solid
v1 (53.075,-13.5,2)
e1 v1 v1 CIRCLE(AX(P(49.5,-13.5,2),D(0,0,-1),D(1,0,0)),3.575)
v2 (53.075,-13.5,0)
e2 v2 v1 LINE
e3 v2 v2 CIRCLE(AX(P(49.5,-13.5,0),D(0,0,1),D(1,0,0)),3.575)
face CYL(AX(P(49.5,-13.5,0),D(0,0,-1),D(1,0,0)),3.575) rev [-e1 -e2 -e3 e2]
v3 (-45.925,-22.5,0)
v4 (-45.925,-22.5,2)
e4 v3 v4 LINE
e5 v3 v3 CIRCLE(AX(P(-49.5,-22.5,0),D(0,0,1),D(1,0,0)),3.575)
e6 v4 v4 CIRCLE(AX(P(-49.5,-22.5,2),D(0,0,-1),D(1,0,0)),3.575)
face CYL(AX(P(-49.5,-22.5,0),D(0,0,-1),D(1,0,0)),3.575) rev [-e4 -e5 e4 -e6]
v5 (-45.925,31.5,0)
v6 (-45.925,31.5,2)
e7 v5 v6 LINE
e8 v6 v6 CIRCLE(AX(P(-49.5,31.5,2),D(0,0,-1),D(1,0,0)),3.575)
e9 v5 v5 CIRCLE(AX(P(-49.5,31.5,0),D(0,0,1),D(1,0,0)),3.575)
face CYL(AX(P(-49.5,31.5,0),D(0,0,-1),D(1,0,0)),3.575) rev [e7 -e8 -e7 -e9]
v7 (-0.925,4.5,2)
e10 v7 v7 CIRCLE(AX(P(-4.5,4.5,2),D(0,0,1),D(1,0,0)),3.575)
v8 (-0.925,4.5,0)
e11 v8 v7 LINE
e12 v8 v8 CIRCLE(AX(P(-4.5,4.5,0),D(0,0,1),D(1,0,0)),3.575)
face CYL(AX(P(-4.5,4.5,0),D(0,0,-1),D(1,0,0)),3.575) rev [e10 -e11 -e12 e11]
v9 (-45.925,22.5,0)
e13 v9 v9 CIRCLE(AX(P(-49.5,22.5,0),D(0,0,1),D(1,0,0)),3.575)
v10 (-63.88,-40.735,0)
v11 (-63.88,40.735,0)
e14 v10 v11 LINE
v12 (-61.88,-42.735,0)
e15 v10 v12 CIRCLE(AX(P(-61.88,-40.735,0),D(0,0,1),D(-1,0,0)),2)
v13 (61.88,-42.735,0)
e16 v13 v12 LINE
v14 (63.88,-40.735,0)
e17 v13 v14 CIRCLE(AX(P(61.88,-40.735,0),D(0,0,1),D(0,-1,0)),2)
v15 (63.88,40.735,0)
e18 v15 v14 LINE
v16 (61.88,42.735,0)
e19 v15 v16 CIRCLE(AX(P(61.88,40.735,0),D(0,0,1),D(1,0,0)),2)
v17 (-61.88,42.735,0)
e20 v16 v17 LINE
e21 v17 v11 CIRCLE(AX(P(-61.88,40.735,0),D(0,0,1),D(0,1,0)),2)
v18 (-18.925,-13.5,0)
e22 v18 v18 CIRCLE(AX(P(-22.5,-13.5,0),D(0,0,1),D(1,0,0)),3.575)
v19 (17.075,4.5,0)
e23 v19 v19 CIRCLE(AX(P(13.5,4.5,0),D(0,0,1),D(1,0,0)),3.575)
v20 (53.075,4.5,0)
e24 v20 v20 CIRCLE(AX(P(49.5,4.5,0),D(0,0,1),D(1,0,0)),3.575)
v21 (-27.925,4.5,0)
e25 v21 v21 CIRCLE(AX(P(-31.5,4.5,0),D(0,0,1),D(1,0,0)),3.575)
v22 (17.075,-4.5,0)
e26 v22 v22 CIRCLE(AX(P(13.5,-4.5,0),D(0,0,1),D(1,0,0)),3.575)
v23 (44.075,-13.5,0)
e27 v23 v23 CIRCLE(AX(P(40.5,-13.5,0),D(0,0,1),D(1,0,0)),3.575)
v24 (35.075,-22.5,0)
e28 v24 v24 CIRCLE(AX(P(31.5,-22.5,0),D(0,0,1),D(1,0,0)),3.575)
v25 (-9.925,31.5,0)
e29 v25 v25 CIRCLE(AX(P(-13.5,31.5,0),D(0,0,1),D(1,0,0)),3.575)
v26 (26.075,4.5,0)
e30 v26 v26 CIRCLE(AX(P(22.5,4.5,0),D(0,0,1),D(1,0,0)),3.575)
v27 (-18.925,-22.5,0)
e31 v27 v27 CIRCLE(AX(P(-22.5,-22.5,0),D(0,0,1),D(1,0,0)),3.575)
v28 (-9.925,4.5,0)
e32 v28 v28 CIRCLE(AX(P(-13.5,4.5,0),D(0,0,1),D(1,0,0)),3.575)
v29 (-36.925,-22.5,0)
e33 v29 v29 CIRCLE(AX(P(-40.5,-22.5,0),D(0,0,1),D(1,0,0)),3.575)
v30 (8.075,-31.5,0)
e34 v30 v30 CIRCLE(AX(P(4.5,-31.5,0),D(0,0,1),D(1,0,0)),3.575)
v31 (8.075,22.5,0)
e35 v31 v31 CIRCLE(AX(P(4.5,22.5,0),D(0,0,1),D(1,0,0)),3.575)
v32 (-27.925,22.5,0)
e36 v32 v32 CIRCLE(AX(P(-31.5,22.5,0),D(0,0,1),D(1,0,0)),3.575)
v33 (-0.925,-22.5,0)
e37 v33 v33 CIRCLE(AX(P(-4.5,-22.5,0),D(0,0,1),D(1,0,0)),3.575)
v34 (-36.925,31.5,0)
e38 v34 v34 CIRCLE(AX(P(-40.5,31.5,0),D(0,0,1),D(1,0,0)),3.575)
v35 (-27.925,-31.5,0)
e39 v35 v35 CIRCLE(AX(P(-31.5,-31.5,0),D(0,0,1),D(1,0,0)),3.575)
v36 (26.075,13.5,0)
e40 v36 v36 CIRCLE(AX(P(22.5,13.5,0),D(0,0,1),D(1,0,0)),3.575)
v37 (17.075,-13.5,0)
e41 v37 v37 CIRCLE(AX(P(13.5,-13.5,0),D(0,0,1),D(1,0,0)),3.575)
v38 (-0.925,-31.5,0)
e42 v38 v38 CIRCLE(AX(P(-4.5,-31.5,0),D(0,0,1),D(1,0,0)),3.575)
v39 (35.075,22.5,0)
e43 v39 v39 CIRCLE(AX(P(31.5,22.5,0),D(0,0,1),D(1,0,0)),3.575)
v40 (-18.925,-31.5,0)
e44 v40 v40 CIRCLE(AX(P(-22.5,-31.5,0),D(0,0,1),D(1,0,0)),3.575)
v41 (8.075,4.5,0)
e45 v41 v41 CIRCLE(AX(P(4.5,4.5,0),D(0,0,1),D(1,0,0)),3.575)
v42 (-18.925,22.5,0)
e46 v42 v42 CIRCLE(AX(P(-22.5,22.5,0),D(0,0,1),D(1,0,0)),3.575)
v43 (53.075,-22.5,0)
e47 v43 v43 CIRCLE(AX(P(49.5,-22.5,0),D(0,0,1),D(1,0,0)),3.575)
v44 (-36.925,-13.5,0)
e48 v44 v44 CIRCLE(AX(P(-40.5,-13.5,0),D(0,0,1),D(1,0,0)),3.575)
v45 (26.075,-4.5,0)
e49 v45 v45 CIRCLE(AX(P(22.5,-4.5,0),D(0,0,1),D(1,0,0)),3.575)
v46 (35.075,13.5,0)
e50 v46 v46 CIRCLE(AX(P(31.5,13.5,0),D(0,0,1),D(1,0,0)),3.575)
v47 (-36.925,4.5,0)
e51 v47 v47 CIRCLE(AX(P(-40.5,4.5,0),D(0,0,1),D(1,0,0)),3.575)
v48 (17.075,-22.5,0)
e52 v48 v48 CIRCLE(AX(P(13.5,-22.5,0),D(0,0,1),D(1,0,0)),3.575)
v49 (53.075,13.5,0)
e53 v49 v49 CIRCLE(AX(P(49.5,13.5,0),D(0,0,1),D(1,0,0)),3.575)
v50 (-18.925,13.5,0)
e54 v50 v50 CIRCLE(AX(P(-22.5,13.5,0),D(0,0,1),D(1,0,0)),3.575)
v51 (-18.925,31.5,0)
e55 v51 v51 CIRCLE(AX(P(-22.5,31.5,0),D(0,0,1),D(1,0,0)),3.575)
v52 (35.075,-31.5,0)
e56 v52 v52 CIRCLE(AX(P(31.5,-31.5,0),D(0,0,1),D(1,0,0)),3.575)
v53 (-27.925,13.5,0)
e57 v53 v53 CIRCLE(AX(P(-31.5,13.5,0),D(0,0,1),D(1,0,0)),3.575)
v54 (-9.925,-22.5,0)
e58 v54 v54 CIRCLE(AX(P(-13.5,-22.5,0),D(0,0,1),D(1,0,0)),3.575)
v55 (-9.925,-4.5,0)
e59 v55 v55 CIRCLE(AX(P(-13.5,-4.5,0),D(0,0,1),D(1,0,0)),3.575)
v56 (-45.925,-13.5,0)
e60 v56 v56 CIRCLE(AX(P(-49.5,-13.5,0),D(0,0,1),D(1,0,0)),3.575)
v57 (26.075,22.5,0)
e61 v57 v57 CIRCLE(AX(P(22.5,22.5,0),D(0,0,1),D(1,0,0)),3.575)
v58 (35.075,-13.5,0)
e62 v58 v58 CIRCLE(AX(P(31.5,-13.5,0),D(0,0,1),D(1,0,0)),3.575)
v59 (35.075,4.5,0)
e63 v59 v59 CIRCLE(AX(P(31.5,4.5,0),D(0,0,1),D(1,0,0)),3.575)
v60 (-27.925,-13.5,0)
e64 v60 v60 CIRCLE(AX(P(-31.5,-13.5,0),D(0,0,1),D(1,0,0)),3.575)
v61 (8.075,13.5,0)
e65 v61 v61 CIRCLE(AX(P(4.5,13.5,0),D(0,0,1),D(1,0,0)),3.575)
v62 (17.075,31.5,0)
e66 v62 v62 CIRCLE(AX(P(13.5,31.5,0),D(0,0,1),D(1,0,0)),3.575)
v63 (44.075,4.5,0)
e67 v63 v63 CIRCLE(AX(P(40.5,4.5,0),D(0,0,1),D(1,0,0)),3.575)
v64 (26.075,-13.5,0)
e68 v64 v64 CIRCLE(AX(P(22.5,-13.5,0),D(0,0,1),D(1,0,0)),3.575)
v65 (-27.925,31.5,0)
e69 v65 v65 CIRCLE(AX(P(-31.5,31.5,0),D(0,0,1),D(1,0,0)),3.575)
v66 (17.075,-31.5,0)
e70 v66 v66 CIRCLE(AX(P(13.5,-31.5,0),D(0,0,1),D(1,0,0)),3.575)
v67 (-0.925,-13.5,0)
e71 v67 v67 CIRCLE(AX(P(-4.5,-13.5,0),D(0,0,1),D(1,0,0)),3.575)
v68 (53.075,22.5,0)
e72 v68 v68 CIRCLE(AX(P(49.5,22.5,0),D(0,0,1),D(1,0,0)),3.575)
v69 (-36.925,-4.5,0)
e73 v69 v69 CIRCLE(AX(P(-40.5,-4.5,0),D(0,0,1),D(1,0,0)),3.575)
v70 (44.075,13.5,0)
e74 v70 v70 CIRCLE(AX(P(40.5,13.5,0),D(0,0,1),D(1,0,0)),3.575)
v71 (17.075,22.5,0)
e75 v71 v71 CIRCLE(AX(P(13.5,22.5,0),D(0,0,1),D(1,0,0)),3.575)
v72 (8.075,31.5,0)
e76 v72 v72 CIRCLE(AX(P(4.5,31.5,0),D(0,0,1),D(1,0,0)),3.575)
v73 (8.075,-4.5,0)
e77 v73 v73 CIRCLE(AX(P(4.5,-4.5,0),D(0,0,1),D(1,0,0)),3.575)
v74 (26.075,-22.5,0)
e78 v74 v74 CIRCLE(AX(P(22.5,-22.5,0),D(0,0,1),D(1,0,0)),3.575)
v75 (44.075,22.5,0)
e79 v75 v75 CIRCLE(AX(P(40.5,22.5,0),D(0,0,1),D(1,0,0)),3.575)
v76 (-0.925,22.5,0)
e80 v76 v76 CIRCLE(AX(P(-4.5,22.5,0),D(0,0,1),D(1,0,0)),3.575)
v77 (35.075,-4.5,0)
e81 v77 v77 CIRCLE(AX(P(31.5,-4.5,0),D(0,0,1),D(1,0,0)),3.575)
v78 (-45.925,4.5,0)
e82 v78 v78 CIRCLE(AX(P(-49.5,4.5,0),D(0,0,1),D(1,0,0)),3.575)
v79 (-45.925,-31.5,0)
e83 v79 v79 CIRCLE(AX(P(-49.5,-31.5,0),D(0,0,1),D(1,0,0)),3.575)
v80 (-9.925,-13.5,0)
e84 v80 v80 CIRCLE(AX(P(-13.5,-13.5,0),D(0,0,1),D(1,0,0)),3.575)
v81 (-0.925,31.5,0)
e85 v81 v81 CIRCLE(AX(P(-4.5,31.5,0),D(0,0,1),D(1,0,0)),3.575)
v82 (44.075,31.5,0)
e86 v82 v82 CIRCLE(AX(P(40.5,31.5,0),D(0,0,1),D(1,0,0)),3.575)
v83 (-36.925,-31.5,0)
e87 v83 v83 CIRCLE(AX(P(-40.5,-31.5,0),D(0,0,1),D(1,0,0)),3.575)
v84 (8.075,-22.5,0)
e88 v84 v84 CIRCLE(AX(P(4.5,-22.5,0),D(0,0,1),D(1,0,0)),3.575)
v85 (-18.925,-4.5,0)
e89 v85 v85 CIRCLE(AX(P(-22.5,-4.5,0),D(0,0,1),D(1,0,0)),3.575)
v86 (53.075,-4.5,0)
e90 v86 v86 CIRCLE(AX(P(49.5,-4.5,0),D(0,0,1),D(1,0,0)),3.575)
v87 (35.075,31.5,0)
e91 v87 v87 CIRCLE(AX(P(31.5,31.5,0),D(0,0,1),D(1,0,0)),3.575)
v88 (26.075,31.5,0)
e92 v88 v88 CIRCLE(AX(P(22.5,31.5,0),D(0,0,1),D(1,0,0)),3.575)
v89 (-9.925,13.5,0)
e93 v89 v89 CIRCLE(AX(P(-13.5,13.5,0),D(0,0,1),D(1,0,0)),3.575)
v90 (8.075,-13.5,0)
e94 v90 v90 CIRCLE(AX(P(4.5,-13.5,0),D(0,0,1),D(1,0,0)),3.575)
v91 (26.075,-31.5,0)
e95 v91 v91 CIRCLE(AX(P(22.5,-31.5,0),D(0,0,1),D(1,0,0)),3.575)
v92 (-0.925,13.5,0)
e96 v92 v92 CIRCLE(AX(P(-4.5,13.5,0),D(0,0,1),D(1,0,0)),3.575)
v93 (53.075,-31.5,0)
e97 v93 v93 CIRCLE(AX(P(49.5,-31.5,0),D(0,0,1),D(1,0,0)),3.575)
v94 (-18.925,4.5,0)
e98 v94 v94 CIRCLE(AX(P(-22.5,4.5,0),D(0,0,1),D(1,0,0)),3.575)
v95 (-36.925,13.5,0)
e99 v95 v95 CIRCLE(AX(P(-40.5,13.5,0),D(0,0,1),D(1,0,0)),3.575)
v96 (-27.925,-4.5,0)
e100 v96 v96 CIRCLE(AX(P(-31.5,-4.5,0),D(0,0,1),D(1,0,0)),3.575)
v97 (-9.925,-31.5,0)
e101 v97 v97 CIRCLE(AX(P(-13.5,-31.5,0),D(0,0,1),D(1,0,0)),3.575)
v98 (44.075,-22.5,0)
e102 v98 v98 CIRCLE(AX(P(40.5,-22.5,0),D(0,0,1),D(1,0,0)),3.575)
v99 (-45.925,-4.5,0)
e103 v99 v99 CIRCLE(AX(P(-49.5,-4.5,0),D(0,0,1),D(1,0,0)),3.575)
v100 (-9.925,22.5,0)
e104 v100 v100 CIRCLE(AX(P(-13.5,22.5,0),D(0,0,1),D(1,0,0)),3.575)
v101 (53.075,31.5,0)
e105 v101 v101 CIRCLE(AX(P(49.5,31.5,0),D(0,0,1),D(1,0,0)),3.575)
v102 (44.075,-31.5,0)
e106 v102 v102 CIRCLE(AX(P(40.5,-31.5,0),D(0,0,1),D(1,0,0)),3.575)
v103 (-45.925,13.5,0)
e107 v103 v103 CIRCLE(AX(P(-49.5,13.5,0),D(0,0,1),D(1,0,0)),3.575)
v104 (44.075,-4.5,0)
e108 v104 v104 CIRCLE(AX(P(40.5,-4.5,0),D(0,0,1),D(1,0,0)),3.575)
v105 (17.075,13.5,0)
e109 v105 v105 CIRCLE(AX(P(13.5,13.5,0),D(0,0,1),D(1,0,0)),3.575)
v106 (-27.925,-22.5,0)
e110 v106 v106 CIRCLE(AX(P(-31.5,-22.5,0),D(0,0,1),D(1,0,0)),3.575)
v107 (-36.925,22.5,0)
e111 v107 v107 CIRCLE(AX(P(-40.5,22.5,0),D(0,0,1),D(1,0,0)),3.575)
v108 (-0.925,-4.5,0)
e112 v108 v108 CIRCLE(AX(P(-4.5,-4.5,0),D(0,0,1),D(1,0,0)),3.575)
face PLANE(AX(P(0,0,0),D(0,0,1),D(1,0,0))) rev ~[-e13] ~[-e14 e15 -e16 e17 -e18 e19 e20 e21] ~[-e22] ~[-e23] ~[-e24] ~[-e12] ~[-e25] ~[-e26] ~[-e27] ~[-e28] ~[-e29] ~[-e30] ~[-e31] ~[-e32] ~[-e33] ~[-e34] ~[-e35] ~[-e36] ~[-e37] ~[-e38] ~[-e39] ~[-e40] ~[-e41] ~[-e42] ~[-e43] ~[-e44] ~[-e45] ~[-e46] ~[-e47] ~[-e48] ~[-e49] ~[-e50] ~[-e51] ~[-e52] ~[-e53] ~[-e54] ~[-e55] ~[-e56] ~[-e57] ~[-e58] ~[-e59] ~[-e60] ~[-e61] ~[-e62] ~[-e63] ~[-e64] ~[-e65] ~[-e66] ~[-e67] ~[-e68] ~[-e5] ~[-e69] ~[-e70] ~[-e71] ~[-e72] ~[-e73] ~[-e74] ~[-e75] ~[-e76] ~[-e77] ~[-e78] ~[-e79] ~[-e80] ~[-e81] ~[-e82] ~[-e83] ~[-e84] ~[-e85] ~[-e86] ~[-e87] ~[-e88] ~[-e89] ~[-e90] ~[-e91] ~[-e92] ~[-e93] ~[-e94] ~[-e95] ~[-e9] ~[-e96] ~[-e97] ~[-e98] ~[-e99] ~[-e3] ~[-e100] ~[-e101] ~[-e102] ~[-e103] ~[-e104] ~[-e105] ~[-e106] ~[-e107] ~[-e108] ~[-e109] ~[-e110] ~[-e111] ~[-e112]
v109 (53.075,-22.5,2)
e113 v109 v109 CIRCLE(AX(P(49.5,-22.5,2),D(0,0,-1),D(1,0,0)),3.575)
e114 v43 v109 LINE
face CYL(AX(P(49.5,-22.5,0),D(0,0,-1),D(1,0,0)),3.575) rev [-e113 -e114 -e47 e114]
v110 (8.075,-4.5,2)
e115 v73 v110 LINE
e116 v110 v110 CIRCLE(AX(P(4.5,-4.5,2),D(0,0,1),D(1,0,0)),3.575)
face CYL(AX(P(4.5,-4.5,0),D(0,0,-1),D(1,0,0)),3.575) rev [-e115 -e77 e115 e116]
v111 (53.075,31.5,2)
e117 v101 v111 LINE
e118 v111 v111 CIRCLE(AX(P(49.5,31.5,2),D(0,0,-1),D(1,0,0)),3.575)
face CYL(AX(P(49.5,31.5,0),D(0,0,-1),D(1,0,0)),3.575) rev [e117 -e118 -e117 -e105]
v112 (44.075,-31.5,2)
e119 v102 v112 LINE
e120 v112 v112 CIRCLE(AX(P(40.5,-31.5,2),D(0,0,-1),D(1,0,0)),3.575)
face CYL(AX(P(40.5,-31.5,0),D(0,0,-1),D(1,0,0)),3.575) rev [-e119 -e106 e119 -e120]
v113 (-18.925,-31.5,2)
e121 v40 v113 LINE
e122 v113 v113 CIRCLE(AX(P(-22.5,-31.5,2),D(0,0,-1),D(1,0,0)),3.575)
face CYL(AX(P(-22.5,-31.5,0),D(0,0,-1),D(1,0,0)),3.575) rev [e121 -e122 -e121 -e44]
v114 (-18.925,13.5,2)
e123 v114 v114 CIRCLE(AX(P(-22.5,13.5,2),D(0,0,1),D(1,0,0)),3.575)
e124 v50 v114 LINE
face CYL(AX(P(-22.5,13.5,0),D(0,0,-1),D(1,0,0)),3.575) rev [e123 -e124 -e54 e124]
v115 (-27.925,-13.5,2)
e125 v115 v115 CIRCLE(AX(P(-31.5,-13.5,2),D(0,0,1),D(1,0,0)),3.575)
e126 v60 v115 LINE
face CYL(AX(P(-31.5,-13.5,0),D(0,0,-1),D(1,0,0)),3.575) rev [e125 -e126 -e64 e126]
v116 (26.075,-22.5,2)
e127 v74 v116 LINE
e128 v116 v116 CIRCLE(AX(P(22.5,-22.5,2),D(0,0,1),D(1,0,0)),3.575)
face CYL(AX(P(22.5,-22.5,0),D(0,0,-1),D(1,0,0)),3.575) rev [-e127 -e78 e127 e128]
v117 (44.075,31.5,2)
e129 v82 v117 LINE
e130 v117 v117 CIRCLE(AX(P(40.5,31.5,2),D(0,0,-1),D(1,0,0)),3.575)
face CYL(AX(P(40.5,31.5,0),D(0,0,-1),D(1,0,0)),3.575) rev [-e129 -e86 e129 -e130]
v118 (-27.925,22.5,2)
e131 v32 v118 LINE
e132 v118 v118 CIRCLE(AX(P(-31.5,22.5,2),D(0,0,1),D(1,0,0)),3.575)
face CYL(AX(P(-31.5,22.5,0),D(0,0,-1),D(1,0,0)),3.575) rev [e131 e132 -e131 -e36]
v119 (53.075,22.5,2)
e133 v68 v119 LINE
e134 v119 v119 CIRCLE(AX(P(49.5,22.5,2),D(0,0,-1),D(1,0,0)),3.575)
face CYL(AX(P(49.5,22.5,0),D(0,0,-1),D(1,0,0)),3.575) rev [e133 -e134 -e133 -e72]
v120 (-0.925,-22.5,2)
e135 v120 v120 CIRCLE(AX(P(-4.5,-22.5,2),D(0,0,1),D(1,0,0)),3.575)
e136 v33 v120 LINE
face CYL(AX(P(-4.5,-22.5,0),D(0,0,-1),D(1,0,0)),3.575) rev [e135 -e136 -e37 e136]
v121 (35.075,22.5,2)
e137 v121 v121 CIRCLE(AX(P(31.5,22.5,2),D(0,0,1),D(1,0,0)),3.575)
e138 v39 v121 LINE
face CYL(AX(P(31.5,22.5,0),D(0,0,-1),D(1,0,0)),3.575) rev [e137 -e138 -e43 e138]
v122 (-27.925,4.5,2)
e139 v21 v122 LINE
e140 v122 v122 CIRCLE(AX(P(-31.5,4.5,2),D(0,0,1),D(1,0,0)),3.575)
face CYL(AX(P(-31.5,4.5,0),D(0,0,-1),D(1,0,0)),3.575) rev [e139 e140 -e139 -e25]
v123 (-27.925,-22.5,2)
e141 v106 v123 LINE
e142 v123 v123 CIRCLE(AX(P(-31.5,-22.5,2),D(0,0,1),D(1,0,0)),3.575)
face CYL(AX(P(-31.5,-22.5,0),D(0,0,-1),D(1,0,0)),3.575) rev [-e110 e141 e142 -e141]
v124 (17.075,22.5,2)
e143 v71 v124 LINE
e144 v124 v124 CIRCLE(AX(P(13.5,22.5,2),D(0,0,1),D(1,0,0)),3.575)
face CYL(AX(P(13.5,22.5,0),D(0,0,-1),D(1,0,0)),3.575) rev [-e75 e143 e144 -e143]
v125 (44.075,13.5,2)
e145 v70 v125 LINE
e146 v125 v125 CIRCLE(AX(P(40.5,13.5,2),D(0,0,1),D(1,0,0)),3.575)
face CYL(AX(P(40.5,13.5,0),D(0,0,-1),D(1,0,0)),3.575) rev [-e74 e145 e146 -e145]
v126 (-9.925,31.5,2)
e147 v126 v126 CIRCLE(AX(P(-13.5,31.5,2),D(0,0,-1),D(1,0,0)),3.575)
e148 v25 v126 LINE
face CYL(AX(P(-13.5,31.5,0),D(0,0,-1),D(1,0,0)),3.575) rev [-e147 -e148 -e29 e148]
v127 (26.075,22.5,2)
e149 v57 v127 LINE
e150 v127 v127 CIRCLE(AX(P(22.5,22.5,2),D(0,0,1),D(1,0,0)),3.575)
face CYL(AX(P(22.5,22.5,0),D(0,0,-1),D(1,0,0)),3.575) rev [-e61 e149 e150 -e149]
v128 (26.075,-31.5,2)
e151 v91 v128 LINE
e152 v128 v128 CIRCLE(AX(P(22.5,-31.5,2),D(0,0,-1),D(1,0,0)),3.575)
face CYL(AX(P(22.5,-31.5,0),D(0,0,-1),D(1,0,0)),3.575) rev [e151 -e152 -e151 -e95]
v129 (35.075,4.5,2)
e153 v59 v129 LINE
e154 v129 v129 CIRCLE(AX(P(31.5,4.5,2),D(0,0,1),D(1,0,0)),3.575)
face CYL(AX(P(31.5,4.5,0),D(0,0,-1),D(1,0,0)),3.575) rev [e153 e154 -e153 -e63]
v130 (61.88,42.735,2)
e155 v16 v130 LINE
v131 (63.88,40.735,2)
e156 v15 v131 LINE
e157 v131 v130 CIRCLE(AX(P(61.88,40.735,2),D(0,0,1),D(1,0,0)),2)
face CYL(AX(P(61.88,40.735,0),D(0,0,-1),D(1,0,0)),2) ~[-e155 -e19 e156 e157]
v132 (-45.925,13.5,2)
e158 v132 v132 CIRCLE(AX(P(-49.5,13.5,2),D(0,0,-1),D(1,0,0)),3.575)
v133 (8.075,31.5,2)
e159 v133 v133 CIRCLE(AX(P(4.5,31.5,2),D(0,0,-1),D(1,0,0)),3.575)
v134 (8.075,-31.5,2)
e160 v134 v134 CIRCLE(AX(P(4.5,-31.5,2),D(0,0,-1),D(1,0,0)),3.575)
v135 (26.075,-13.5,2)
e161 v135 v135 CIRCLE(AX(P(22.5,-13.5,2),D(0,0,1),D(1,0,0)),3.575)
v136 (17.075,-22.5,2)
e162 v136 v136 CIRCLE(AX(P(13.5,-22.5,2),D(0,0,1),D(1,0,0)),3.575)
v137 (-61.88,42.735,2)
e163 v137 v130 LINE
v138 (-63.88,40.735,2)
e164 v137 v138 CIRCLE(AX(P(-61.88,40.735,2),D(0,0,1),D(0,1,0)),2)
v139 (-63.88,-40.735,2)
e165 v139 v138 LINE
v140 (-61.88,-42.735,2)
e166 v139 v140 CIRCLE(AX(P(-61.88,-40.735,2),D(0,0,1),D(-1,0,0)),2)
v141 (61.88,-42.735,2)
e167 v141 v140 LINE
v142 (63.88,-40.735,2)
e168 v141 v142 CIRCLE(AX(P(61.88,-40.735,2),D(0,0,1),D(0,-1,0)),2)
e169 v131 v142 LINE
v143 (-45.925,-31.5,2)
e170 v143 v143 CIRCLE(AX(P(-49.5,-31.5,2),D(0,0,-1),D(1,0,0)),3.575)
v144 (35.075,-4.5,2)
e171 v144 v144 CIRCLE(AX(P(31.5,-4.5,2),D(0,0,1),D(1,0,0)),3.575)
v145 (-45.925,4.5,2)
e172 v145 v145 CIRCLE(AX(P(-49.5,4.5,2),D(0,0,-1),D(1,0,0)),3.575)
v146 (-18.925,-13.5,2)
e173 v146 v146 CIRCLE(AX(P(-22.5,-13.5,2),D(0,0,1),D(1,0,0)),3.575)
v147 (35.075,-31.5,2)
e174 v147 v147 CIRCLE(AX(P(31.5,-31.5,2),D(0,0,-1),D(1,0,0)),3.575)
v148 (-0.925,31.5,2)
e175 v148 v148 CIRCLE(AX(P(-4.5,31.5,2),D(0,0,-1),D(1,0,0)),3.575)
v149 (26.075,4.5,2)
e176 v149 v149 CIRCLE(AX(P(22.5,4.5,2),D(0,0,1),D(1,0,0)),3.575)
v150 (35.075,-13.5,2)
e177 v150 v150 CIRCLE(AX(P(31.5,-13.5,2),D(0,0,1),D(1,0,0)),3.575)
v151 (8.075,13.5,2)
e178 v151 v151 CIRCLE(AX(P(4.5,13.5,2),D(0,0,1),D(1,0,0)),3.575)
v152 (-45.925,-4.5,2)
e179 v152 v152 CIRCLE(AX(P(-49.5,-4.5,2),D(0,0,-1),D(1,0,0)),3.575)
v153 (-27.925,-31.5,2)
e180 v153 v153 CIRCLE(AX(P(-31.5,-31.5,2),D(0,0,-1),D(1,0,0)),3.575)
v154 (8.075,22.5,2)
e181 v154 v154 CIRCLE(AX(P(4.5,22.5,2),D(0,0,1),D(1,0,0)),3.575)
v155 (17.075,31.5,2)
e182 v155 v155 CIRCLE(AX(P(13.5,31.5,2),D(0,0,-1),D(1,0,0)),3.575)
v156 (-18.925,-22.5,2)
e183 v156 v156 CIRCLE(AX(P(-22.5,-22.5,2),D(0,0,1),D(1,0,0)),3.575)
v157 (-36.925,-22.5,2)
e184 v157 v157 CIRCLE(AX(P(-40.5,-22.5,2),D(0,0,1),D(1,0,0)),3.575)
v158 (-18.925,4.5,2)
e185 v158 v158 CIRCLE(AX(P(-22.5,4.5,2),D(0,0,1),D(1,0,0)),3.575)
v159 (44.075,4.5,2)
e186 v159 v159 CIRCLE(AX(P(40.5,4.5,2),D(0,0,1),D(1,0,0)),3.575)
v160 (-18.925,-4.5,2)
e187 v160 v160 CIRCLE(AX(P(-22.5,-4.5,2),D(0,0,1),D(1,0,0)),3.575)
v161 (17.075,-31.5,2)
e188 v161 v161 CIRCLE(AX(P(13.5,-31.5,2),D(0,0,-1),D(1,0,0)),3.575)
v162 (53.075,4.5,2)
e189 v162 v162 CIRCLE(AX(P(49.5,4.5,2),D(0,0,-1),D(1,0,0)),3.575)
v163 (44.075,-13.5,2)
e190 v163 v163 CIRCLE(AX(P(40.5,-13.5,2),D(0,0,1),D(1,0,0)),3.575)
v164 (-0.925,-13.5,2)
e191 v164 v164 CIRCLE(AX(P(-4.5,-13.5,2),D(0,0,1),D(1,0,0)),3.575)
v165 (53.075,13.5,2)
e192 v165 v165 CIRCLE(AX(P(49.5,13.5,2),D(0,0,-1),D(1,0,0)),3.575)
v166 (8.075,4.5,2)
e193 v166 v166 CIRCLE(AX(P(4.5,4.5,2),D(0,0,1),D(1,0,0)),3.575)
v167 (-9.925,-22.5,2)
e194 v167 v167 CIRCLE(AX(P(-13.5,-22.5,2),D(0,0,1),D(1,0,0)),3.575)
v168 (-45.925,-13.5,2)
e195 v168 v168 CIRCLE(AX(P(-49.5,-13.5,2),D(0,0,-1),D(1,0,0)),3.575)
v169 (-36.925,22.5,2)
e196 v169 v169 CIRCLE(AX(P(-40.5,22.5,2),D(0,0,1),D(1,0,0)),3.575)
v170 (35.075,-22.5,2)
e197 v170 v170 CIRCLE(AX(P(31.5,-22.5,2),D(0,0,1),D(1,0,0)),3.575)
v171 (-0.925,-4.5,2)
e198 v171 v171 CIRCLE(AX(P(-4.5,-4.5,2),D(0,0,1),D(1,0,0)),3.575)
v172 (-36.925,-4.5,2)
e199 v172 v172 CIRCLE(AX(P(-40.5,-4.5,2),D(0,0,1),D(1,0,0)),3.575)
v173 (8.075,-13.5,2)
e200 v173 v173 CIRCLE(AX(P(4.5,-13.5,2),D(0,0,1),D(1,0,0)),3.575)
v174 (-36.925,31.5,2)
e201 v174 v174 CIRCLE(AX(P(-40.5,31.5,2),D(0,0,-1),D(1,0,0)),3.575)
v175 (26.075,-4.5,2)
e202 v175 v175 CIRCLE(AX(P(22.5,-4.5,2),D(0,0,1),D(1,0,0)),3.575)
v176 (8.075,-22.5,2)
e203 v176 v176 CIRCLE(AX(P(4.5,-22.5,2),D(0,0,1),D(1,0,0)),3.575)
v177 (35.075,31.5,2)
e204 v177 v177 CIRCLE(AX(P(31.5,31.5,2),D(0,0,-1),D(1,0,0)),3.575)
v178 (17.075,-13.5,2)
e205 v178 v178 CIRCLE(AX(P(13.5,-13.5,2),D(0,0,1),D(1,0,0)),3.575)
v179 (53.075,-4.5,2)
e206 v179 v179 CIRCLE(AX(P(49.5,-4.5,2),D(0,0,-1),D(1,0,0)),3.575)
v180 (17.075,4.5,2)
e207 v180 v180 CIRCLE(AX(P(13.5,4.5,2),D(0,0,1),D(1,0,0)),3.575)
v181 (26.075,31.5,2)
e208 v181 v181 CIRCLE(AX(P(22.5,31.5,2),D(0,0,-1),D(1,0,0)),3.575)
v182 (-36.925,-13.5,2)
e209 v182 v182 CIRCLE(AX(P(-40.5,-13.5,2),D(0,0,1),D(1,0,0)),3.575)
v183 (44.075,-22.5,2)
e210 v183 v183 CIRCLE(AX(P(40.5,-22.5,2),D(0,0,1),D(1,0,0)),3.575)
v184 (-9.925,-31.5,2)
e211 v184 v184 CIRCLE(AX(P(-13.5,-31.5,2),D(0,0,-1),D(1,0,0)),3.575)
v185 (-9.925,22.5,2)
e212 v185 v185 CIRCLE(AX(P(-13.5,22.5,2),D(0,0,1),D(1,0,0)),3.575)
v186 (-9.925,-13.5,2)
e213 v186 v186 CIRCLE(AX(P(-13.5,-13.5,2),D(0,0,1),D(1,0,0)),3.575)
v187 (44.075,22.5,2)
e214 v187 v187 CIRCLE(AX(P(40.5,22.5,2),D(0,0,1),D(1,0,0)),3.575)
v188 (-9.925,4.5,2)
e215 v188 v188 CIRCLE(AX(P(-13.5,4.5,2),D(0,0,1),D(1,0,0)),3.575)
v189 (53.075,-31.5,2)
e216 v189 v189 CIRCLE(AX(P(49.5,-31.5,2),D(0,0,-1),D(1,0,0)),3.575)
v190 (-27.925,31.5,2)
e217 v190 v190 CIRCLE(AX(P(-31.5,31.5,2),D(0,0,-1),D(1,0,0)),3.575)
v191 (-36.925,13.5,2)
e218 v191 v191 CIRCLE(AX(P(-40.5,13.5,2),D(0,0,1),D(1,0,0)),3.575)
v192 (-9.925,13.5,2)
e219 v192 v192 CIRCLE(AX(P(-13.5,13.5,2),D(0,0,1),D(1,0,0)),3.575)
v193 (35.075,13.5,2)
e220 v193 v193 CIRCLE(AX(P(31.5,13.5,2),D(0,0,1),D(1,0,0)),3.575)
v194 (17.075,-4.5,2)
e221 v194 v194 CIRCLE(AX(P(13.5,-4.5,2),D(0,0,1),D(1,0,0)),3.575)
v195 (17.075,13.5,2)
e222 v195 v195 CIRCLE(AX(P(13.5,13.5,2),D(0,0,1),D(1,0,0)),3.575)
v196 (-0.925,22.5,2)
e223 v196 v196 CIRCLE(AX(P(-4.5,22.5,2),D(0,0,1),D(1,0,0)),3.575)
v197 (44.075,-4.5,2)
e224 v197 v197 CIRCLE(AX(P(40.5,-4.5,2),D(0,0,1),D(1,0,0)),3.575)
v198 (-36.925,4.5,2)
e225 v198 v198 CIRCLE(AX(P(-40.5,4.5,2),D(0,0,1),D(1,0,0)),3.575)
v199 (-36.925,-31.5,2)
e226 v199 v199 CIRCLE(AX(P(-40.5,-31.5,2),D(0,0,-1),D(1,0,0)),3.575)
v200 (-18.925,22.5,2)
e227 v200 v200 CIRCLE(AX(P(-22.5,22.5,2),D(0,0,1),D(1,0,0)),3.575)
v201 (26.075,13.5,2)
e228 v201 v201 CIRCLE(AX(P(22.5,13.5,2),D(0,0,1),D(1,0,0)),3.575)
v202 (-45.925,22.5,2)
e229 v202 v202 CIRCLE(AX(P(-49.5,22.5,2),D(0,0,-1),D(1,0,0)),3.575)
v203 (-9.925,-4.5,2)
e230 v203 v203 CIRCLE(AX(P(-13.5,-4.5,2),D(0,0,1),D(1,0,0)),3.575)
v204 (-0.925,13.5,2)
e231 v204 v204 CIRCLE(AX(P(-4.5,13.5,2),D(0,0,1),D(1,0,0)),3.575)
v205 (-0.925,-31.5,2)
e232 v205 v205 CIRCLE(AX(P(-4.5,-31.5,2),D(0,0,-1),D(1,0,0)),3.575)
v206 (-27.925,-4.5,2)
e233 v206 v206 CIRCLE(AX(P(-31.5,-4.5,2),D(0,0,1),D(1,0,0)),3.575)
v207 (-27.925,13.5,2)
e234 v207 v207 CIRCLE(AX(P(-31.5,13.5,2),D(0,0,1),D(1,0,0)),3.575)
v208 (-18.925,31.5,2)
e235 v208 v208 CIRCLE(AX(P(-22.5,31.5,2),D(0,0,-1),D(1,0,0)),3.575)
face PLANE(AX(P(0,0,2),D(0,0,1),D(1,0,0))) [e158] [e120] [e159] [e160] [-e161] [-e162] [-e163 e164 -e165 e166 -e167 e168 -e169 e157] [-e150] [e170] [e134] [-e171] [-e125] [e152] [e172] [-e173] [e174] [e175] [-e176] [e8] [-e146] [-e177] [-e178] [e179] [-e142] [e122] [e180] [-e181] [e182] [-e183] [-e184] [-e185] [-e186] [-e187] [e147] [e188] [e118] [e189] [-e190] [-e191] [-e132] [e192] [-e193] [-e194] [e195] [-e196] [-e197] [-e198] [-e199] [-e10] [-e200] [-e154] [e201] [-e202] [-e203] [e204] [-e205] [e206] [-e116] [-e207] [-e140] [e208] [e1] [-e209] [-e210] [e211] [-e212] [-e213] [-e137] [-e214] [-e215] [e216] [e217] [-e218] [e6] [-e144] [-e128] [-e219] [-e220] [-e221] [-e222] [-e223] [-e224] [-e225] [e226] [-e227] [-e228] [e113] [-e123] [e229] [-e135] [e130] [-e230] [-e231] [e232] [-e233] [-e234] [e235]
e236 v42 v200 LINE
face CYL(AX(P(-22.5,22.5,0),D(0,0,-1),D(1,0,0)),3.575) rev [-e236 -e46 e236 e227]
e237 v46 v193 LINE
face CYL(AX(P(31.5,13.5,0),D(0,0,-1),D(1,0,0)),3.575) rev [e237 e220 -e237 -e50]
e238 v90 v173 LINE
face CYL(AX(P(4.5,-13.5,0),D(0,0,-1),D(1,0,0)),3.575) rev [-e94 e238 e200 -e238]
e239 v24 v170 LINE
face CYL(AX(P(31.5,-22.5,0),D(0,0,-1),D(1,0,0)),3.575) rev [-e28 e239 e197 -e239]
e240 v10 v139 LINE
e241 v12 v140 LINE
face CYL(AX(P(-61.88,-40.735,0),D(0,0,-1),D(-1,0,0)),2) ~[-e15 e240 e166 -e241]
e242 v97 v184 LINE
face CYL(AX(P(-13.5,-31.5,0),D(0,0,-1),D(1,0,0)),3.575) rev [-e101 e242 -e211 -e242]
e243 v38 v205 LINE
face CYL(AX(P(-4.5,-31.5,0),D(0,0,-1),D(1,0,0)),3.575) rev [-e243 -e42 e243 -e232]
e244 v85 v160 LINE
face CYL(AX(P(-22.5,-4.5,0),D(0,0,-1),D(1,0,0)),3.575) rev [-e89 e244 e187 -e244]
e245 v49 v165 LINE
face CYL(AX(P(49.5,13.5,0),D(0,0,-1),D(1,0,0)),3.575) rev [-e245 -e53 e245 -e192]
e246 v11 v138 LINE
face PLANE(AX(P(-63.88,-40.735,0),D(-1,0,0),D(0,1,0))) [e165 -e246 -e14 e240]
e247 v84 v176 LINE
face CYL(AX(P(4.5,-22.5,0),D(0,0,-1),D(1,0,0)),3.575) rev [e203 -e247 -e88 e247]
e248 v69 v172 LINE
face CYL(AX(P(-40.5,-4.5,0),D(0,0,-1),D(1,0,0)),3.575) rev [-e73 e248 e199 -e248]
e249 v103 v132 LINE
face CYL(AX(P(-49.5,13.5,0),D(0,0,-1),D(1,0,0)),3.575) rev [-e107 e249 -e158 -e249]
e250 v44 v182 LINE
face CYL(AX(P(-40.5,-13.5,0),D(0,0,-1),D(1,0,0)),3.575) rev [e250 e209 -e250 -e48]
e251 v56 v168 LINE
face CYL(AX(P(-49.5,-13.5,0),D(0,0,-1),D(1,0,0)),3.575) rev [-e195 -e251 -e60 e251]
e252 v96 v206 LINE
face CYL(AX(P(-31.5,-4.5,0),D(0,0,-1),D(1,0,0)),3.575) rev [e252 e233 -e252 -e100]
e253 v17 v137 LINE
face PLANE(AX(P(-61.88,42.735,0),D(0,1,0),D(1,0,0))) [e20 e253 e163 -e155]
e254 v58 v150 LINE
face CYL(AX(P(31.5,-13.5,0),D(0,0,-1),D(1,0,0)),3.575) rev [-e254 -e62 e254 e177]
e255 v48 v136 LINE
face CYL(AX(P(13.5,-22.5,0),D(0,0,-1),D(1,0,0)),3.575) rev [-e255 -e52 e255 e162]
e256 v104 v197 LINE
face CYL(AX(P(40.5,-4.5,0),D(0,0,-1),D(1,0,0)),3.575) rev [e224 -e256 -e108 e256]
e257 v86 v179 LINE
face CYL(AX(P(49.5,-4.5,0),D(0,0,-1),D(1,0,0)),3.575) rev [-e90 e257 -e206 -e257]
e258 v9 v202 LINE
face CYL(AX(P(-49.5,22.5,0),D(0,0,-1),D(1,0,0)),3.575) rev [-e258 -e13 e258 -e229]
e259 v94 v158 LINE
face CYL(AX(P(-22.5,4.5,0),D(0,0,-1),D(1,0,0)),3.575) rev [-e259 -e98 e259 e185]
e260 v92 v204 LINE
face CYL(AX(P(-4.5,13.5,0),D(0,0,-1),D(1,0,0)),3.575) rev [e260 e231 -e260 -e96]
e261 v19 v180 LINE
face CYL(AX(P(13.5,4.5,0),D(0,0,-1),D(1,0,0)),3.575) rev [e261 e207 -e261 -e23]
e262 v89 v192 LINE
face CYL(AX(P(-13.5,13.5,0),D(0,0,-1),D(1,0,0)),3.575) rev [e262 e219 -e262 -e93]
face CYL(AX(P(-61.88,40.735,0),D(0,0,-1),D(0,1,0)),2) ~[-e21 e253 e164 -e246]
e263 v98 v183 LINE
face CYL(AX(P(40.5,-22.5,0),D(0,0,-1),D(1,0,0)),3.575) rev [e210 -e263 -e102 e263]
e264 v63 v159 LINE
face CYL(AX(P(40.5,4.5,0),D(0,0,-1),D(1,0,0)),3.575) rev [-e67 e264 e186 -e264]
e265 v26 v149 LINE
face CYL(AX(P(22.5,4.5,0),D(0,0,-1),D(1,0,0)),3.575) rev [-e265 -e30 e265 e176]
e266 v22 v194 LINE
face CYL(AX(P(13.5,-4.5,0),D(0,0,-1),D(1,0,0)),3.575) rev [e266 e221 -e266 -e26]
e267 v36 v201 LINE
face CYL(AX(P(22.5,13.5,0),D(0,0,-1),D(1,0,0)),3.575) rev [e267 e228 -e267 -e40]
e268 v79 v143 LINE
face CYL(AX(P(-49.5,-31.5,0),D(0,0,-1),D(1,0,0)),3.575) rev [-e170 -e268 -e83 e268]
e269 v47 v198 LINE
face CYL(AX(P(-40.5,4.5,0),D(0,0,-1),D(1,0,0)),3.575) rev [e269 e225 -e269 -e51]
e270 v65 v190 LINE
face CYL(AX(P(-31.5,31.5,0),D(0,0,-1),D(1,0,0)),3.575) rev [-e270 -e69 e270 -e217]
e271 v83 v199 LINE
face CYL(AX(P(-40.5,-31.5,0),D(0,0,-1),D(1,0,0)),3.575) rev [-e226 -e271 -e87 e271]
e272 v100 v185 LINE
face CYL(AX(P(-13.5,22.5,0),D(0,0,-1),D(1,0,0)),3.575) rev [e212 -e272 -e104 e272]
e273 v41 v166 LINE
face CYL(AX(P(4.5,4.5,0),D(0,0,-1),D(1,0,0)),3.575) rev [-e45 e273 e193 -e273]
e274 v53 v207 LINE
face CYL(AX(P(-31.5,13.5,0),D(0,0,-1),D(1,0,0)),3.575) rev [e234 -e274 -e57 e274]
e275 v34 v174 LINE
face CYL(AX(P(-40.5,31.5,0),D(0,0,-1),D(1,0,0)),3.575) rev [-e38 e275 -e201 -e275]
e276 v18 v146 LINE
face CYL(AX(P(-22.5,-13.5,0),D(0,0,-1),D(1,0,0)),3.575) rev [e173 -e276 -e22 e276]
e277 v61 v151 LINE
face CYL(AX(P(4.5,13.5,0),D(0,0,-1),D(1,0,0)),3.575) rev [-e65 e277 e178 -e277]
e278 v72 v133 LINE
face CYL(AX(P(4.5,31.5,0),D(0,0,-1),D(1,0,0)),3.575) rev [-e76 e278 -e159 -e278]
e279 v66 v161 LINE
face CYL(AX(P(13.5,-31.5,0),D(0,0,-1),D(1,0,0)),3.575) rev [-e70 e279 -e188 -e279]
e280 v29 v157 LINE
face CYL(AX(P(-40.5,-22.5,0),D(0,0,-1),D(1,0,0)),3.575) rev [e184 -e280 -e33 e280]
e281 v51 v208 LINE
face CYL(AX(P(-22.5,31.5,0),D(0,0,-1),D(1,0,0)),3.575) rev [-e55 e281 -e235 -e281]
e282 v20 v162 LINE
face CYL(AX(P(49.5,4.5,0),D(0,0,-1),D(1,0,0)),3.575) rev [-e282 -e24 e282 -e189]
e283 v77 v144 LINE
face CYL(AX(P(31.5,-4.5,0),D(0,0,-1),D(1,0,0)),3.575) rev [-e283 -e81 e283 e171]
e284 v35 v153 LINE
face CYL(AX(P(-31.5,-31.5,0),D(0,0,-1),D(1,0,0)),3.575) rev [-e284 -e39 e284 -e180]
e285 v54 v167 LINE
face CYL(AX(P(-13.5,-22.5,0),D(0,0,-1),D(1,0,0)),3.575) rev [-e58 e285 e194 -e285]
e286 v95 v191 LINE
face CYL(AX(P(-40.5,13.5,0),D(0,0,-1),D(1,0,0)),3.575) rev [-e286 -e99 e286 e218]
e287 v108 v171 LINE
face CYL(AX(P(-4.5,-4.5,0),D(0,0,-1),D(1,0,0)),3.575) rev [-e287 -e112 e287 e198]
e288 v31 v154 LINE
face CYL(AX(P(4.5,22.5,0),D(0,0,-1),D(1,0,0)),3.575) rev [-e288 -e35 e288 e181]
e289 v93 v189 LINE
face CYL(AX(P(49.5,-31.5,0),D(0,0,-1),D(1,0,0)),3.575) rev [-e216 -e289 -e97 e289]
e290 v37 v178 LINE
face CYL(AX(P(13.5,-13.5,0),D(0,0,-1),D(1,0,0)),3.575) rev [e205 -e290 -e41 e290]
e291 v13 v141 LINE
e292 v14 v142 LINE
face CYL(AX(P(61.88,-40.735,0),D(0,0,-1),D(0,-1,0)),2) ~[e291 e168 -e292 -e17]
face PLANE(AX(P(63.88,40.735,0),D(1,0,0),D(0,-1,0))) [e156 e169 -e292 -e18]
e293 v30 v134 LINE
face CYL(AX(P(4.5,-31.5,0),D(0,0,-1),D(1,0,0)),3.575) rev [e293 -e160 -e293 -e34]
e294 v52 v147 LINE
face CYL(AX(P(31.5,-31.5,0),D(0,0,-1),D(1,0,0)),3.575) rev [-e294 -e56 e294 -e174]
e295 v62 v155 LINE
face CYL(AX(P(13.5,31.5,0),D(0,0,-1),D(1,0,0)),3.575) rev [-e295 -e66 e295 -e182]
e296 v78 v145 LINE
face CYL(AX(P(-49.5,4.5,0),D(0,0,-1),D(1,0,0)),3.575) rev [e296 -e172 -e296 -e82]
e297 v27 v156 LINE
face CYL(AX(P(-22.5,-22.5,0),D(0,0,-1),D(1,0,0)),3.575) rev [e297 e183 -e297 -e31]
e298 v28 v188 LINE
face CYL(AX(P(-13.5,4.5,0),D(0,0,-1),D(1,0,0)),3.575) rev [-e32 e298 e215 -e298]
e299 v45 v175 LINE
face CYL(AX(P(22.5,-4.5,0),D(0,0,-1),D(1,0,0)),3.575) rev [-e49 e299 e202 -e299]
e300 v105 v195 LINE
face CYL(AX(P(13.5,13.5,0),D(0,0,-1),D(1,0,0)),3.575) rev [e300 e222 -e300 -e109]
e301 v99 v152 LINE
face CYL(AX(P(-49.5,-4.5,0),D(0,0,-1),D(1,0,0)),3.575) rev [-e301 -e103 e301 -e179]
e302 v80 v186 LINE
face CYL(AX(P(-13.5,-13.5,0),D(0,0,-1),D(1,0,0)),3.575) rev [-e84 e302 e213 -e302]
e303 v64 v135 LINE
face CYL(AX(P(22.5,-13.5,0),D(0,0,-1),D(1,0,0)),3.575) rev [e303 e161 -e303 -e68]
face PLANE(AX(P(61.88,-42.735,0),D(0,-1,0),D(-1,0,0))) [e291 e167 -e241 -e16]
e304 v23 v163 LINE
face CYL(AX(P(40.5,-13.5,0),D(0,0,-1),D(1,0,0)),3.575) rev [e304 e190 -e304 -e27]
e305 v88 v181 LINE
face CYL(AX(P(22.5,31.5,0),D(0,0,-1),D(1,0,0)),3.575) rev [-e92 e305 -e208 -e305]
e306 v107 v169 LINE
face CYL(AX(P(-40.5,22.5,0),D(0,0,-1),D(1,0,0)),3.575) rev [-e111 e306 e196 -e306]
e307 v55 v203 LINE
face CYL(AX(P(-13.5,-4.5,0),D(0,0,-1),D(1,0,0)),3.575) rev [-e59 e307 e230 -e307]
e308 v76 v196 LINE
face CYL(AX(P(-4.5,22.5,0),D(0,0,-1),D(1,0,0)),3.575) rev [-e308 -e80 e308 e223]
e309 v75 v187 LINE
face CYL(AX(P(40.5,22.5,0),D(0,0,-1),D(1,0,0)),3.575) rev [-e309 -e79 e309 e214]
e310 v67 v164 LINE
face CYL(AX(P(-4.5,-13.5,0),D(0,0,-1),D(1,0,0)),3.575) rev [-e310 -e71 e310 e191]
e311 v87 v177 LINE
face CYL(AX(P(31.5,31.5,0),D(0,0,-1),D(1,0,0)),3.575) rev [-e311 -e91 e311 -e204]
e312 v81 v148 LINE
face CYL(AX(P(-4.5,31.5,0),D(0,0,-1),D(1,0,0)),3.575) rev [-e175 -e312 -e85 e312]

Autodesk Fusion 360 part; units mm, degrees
sketch "Sketch1" plane through (0, 0, 0) normal (0, 0, 1) x (1, 0, 0)
  line L0 (-61.88, 42.735) -> (61.88, 42.735)
  line L1 (63.88, 40.735) -> (63.88, -40.735)
  line L2 (61.88, -42.735) -> (-61.88, -42.735)
  line L3 (-63.88, -40.735) -> (-63.88, 40.735)
  line L4 (-63.88, 42.735) -> (63.88, -42.735) construction
  line L5 (63.88, 42.735) -> (-63.88, -42.735) construction
  line L6 (-48.38, 42.735) -> (-58.38, 42.735)
  line L7 (48.38, -47.37) -> (58.38, -47.37)
  line L8 (-58.38, -47.37) -> (-48.38, -47.37)
  line L9 (-49.5, 31.5) -> (49.5, 31.5)
  line L10 (49.5, 31.5) -> (49.5, -31.5)
  line L11 (49.5, -31.5) -> (-49.5, -31.5)
  line L12 (-49.5, -31.5) -> (-49.5, 31.5)
  line L13 (-49.5, 31.5) -> (49.5, -31.5) construction
  line L14 (49.5, 31.5) -> (-49.5, -31.5) construction
  circle A0 centre (-49.5, -31.5) radius 3.575
  circle A1 centre (-40.5, -31.5) radius 3.575
  circle A2 centre (-31.5, -31.5) radius 3.575
  circle A3 centre (-22.5, -31.5) radius 3.575
  circle A4 centre (-13.5, -31.5) radius 3.575
  circle A5 centre (-4.5, -31.5) radius 3.575
  circle A6 centre (4.5, -31.5) radius 3.575
  circle A7 centre (13.5, -31.5) radius 3.575
  circle A8 centre (22.5, -31.5) radius 3.575
  circle A9 centre (31.5, -31.5) radius 3.575
  circle A10 centre (40.5, -31.5) radius 3.575
  circle A11 centre (49.5, -31.5) radius 3.575
  circle A12 centre (-49.5, -22.5) radius 3.575
  circle A13 centre (-40.5, -22.5) radius 3.575
  circle A14 centre (-31.5, -22.5) radius 3.575
  circle A15 centre (-22.5, -22.5) radius 3.575
  circle A16 centre (-13.5, -22.5) radius 3.575
  circle A17 centre (-4.5, -22.5) radius 3.575
  circle A18 centre (4.5, -22.5) radius 3.575
  circle A19 centre (13.5, -22.5) radius 3.575
  circle A20 centre (22.5, -22.5) radius 3.575
  circle A21 centre (31.5, -22.5) radius 3.575
  circle A22 centre (40.5, -22.5) radius 3.575
  circle A23 centre (49.5, -22.5) radius 3.575
  circle A24 centre (-49.5, -13.5) radius 3.575
  circle A25 centre (-40.5, -13.5) radius 3.575
  circle A26 centre (-31.5, -13.5) radius 3.575
  circle A27 centre (-22.5, -13.5) radius 3.575
  circle A28 centre (-13.5, -13.5) radius 3.575
  circle A29 centre (-4.5, -13.5) radius 3.575
  circle A30 centre (4.5, -13.5) radius 3.575
  circle A31 centre (13.5, -13.5) radius 3.575
  circle A32 centre (22.5, -13.5) radius 3.575
  circle A33 centre (31.5, -13.5) radius 3.575
  circle A34 centre (40.5, -13.5) radius 3.575
  circle A35 centre (49.5, -13.5) radius 3.575
  circle A36 centre (-49.5, -4.5) radius 3.575
  circle A37 centre (-40.5, -4.5) radius 3.575
  circle A38 centre (-31.5, -4.5) radius 3.575
  circle A39 centre (-22.5, -4.5) radius 3.575
  circle A40 centre (-13.5, -4.5) radius 3.575
  circle A41 centre (-4.5, -4.5) radius 3.575
  circle A42 centre (4.5, -4.5) radius 3.575
  circle A43 centre (13.5, -4.5) radius 3.575
  circle A44 centre (22.5, -4.5) radius 3.575
  circle A45 centre (31.5, -4.5) radius 3.575
  circle A46 centre (40.5, -4.5) radius 3.575
  circle A47 centre (49.5, -4.5) radius 3.575
  circle A48 centre (-49.5, 4.5) radius 3.575
  circle A49 centre (-40.5, 4.5) radius 3.575
  circle A50 centre (-31.5, 4.5) radius 3.575
  circle A51 centre (-22.5, 4.5) radius 3.575
  circle A52 centre (-13.5, 4.5) radius 3.575
  circle A53 centre (-4.5, 4.5) radius 3.575
  circle A54 centre (4.5, 4.5) radius 3.575
  circle A55 centre (13.5, 4.5) radius 3.575
  circle A56 centre (22.5, 4.5) radius 3.575
  circle A57 centre (31.5, 4.5) radius 3.575
  circle A58 centre (40.5, 4.5) radius 3.575
  circle A59 centre (49.5, 4.5) radius 3.575
  circle A60 centre (-49.5, 13.5) radius 3.575
  circle A61 centre (-40.5, 13.5) radius 3.575
  circle A62 centre (-31.5, 13.5) radius 3.575
  circle A63 centre (-22.5, 13.5) radius 3.575
  circle A64 centre (-13.5, 13.5) radius 3.575
  circle A65 centre (-4.5, 13.5) radius 3.575
  circle A66 centre (4.5, 13.5) radius 3.575
  circle A67 centre (13.5, 13.5) radius 3.575
  circle A68 centre (22.5, 13.5) radius 3.575
  circle A69 centre (31.5, 13.5) radius 3.575
  circle A70 centre (40.5, 13.5) radius 3.575
  circle A71 centre (49.5, 13.5) radius 3.575
  circle A72 centre (-49.5, 22.5) radius 3.575
  circle A73 centre (-40.5, 22.5) radius 3.575
  circle A74 centre (-31.5, 22.5) radius 3.575
  circle A75 centre (-22.5, 22.5) radius 3.575
  circle A76 centre (-13.5, 22.5) radius 3.575
  circle A77 centre (-4.5, 22.5) radius 3.575
  circle A78 centre (4.5, 22.5) radius 3.575
  circle A79 centre (13.5, 22.5) radius 3.575
  circle A80 centre (22.5, 22.5) radius 3.575
  circle A81 centre (31.5, 22.5) radius 3.575
  circle A82 centre (40.5, 22.5) radius 3.575
  circle A83 centre (49.5, 22.5) radius 3.575
  circle A84 centre (-49.5, 31.5) radius 3.575
  circle A85 centre (-40.5, 31.5) radius 3.575
  circle A86 centre (-31.5, 31.5) radius 3.575
  circle A87 centre (-22.5, 31.5) radius 3.575
  circle A88 centre (-13.5, 31.5) radius 3.575
  circle A89 centre (-4.5, 31.5) radius 3.575
  circle A90 centre (4.5, 31.5) radius 3.575
  circle A91 centre (13.5, 31.5) radius 3.575
  circle A92 centre (22.5, 31.5) radius 3.575
  circle A93 centre (31.5, 31.5) radius 3.575
  circle A94 centre (40.5, 31.5) radius 3.575
  circle A95 centre (49.5, 31.5) radius 3.575
  arc A96 (-61.88, 42.735) -> (-63.88, 40.735) centre (-61.88, 40.735) ccw
  arc A97 (-63.88, -40.735) -> (-61.88, -42.735) centre (-61.88, -40.735) ccw
  arc A98 (61.88, -42.735) -> (63.88, -40.735) centre (61.88, -40.735) ccw
  arc A99 (63.88, 40.735) -> (61.88, 42.735) centre (61.88, 40.735) ccw
  point P0 (-57.3369, -42.2056)
  point P1 (-53.88, -84.89)
  dimension "d1" = 127.76
  dimension "d2" = 85.47
  dimension "d7" = 63
  dimension "d8" = 99
  dimension "d10" = 7.15
  dimension "d13" = 99
  dimension "d14" = 63
  dimension "d15" = 2
  dimension "d16" = 2
  dimension "d17" = 2
  dimension "d18" = 2
extrude "Extrude1" add sketch "Sketch1" along normal blind 2 contours L0 L1 L2 L3 L6 A96 A97 A98 A99 | L9 L10 L11 L12 A0 A1 A2 A3 A4 A5 A6 A7 A8 A9 A10 A11 A12 A23 A24 A35 A36 A47 A48 A59 A60 A71 A72 A83 A84 A85 A86 A87 A88 A89 A90 A91 A92 A93 A94 A95
